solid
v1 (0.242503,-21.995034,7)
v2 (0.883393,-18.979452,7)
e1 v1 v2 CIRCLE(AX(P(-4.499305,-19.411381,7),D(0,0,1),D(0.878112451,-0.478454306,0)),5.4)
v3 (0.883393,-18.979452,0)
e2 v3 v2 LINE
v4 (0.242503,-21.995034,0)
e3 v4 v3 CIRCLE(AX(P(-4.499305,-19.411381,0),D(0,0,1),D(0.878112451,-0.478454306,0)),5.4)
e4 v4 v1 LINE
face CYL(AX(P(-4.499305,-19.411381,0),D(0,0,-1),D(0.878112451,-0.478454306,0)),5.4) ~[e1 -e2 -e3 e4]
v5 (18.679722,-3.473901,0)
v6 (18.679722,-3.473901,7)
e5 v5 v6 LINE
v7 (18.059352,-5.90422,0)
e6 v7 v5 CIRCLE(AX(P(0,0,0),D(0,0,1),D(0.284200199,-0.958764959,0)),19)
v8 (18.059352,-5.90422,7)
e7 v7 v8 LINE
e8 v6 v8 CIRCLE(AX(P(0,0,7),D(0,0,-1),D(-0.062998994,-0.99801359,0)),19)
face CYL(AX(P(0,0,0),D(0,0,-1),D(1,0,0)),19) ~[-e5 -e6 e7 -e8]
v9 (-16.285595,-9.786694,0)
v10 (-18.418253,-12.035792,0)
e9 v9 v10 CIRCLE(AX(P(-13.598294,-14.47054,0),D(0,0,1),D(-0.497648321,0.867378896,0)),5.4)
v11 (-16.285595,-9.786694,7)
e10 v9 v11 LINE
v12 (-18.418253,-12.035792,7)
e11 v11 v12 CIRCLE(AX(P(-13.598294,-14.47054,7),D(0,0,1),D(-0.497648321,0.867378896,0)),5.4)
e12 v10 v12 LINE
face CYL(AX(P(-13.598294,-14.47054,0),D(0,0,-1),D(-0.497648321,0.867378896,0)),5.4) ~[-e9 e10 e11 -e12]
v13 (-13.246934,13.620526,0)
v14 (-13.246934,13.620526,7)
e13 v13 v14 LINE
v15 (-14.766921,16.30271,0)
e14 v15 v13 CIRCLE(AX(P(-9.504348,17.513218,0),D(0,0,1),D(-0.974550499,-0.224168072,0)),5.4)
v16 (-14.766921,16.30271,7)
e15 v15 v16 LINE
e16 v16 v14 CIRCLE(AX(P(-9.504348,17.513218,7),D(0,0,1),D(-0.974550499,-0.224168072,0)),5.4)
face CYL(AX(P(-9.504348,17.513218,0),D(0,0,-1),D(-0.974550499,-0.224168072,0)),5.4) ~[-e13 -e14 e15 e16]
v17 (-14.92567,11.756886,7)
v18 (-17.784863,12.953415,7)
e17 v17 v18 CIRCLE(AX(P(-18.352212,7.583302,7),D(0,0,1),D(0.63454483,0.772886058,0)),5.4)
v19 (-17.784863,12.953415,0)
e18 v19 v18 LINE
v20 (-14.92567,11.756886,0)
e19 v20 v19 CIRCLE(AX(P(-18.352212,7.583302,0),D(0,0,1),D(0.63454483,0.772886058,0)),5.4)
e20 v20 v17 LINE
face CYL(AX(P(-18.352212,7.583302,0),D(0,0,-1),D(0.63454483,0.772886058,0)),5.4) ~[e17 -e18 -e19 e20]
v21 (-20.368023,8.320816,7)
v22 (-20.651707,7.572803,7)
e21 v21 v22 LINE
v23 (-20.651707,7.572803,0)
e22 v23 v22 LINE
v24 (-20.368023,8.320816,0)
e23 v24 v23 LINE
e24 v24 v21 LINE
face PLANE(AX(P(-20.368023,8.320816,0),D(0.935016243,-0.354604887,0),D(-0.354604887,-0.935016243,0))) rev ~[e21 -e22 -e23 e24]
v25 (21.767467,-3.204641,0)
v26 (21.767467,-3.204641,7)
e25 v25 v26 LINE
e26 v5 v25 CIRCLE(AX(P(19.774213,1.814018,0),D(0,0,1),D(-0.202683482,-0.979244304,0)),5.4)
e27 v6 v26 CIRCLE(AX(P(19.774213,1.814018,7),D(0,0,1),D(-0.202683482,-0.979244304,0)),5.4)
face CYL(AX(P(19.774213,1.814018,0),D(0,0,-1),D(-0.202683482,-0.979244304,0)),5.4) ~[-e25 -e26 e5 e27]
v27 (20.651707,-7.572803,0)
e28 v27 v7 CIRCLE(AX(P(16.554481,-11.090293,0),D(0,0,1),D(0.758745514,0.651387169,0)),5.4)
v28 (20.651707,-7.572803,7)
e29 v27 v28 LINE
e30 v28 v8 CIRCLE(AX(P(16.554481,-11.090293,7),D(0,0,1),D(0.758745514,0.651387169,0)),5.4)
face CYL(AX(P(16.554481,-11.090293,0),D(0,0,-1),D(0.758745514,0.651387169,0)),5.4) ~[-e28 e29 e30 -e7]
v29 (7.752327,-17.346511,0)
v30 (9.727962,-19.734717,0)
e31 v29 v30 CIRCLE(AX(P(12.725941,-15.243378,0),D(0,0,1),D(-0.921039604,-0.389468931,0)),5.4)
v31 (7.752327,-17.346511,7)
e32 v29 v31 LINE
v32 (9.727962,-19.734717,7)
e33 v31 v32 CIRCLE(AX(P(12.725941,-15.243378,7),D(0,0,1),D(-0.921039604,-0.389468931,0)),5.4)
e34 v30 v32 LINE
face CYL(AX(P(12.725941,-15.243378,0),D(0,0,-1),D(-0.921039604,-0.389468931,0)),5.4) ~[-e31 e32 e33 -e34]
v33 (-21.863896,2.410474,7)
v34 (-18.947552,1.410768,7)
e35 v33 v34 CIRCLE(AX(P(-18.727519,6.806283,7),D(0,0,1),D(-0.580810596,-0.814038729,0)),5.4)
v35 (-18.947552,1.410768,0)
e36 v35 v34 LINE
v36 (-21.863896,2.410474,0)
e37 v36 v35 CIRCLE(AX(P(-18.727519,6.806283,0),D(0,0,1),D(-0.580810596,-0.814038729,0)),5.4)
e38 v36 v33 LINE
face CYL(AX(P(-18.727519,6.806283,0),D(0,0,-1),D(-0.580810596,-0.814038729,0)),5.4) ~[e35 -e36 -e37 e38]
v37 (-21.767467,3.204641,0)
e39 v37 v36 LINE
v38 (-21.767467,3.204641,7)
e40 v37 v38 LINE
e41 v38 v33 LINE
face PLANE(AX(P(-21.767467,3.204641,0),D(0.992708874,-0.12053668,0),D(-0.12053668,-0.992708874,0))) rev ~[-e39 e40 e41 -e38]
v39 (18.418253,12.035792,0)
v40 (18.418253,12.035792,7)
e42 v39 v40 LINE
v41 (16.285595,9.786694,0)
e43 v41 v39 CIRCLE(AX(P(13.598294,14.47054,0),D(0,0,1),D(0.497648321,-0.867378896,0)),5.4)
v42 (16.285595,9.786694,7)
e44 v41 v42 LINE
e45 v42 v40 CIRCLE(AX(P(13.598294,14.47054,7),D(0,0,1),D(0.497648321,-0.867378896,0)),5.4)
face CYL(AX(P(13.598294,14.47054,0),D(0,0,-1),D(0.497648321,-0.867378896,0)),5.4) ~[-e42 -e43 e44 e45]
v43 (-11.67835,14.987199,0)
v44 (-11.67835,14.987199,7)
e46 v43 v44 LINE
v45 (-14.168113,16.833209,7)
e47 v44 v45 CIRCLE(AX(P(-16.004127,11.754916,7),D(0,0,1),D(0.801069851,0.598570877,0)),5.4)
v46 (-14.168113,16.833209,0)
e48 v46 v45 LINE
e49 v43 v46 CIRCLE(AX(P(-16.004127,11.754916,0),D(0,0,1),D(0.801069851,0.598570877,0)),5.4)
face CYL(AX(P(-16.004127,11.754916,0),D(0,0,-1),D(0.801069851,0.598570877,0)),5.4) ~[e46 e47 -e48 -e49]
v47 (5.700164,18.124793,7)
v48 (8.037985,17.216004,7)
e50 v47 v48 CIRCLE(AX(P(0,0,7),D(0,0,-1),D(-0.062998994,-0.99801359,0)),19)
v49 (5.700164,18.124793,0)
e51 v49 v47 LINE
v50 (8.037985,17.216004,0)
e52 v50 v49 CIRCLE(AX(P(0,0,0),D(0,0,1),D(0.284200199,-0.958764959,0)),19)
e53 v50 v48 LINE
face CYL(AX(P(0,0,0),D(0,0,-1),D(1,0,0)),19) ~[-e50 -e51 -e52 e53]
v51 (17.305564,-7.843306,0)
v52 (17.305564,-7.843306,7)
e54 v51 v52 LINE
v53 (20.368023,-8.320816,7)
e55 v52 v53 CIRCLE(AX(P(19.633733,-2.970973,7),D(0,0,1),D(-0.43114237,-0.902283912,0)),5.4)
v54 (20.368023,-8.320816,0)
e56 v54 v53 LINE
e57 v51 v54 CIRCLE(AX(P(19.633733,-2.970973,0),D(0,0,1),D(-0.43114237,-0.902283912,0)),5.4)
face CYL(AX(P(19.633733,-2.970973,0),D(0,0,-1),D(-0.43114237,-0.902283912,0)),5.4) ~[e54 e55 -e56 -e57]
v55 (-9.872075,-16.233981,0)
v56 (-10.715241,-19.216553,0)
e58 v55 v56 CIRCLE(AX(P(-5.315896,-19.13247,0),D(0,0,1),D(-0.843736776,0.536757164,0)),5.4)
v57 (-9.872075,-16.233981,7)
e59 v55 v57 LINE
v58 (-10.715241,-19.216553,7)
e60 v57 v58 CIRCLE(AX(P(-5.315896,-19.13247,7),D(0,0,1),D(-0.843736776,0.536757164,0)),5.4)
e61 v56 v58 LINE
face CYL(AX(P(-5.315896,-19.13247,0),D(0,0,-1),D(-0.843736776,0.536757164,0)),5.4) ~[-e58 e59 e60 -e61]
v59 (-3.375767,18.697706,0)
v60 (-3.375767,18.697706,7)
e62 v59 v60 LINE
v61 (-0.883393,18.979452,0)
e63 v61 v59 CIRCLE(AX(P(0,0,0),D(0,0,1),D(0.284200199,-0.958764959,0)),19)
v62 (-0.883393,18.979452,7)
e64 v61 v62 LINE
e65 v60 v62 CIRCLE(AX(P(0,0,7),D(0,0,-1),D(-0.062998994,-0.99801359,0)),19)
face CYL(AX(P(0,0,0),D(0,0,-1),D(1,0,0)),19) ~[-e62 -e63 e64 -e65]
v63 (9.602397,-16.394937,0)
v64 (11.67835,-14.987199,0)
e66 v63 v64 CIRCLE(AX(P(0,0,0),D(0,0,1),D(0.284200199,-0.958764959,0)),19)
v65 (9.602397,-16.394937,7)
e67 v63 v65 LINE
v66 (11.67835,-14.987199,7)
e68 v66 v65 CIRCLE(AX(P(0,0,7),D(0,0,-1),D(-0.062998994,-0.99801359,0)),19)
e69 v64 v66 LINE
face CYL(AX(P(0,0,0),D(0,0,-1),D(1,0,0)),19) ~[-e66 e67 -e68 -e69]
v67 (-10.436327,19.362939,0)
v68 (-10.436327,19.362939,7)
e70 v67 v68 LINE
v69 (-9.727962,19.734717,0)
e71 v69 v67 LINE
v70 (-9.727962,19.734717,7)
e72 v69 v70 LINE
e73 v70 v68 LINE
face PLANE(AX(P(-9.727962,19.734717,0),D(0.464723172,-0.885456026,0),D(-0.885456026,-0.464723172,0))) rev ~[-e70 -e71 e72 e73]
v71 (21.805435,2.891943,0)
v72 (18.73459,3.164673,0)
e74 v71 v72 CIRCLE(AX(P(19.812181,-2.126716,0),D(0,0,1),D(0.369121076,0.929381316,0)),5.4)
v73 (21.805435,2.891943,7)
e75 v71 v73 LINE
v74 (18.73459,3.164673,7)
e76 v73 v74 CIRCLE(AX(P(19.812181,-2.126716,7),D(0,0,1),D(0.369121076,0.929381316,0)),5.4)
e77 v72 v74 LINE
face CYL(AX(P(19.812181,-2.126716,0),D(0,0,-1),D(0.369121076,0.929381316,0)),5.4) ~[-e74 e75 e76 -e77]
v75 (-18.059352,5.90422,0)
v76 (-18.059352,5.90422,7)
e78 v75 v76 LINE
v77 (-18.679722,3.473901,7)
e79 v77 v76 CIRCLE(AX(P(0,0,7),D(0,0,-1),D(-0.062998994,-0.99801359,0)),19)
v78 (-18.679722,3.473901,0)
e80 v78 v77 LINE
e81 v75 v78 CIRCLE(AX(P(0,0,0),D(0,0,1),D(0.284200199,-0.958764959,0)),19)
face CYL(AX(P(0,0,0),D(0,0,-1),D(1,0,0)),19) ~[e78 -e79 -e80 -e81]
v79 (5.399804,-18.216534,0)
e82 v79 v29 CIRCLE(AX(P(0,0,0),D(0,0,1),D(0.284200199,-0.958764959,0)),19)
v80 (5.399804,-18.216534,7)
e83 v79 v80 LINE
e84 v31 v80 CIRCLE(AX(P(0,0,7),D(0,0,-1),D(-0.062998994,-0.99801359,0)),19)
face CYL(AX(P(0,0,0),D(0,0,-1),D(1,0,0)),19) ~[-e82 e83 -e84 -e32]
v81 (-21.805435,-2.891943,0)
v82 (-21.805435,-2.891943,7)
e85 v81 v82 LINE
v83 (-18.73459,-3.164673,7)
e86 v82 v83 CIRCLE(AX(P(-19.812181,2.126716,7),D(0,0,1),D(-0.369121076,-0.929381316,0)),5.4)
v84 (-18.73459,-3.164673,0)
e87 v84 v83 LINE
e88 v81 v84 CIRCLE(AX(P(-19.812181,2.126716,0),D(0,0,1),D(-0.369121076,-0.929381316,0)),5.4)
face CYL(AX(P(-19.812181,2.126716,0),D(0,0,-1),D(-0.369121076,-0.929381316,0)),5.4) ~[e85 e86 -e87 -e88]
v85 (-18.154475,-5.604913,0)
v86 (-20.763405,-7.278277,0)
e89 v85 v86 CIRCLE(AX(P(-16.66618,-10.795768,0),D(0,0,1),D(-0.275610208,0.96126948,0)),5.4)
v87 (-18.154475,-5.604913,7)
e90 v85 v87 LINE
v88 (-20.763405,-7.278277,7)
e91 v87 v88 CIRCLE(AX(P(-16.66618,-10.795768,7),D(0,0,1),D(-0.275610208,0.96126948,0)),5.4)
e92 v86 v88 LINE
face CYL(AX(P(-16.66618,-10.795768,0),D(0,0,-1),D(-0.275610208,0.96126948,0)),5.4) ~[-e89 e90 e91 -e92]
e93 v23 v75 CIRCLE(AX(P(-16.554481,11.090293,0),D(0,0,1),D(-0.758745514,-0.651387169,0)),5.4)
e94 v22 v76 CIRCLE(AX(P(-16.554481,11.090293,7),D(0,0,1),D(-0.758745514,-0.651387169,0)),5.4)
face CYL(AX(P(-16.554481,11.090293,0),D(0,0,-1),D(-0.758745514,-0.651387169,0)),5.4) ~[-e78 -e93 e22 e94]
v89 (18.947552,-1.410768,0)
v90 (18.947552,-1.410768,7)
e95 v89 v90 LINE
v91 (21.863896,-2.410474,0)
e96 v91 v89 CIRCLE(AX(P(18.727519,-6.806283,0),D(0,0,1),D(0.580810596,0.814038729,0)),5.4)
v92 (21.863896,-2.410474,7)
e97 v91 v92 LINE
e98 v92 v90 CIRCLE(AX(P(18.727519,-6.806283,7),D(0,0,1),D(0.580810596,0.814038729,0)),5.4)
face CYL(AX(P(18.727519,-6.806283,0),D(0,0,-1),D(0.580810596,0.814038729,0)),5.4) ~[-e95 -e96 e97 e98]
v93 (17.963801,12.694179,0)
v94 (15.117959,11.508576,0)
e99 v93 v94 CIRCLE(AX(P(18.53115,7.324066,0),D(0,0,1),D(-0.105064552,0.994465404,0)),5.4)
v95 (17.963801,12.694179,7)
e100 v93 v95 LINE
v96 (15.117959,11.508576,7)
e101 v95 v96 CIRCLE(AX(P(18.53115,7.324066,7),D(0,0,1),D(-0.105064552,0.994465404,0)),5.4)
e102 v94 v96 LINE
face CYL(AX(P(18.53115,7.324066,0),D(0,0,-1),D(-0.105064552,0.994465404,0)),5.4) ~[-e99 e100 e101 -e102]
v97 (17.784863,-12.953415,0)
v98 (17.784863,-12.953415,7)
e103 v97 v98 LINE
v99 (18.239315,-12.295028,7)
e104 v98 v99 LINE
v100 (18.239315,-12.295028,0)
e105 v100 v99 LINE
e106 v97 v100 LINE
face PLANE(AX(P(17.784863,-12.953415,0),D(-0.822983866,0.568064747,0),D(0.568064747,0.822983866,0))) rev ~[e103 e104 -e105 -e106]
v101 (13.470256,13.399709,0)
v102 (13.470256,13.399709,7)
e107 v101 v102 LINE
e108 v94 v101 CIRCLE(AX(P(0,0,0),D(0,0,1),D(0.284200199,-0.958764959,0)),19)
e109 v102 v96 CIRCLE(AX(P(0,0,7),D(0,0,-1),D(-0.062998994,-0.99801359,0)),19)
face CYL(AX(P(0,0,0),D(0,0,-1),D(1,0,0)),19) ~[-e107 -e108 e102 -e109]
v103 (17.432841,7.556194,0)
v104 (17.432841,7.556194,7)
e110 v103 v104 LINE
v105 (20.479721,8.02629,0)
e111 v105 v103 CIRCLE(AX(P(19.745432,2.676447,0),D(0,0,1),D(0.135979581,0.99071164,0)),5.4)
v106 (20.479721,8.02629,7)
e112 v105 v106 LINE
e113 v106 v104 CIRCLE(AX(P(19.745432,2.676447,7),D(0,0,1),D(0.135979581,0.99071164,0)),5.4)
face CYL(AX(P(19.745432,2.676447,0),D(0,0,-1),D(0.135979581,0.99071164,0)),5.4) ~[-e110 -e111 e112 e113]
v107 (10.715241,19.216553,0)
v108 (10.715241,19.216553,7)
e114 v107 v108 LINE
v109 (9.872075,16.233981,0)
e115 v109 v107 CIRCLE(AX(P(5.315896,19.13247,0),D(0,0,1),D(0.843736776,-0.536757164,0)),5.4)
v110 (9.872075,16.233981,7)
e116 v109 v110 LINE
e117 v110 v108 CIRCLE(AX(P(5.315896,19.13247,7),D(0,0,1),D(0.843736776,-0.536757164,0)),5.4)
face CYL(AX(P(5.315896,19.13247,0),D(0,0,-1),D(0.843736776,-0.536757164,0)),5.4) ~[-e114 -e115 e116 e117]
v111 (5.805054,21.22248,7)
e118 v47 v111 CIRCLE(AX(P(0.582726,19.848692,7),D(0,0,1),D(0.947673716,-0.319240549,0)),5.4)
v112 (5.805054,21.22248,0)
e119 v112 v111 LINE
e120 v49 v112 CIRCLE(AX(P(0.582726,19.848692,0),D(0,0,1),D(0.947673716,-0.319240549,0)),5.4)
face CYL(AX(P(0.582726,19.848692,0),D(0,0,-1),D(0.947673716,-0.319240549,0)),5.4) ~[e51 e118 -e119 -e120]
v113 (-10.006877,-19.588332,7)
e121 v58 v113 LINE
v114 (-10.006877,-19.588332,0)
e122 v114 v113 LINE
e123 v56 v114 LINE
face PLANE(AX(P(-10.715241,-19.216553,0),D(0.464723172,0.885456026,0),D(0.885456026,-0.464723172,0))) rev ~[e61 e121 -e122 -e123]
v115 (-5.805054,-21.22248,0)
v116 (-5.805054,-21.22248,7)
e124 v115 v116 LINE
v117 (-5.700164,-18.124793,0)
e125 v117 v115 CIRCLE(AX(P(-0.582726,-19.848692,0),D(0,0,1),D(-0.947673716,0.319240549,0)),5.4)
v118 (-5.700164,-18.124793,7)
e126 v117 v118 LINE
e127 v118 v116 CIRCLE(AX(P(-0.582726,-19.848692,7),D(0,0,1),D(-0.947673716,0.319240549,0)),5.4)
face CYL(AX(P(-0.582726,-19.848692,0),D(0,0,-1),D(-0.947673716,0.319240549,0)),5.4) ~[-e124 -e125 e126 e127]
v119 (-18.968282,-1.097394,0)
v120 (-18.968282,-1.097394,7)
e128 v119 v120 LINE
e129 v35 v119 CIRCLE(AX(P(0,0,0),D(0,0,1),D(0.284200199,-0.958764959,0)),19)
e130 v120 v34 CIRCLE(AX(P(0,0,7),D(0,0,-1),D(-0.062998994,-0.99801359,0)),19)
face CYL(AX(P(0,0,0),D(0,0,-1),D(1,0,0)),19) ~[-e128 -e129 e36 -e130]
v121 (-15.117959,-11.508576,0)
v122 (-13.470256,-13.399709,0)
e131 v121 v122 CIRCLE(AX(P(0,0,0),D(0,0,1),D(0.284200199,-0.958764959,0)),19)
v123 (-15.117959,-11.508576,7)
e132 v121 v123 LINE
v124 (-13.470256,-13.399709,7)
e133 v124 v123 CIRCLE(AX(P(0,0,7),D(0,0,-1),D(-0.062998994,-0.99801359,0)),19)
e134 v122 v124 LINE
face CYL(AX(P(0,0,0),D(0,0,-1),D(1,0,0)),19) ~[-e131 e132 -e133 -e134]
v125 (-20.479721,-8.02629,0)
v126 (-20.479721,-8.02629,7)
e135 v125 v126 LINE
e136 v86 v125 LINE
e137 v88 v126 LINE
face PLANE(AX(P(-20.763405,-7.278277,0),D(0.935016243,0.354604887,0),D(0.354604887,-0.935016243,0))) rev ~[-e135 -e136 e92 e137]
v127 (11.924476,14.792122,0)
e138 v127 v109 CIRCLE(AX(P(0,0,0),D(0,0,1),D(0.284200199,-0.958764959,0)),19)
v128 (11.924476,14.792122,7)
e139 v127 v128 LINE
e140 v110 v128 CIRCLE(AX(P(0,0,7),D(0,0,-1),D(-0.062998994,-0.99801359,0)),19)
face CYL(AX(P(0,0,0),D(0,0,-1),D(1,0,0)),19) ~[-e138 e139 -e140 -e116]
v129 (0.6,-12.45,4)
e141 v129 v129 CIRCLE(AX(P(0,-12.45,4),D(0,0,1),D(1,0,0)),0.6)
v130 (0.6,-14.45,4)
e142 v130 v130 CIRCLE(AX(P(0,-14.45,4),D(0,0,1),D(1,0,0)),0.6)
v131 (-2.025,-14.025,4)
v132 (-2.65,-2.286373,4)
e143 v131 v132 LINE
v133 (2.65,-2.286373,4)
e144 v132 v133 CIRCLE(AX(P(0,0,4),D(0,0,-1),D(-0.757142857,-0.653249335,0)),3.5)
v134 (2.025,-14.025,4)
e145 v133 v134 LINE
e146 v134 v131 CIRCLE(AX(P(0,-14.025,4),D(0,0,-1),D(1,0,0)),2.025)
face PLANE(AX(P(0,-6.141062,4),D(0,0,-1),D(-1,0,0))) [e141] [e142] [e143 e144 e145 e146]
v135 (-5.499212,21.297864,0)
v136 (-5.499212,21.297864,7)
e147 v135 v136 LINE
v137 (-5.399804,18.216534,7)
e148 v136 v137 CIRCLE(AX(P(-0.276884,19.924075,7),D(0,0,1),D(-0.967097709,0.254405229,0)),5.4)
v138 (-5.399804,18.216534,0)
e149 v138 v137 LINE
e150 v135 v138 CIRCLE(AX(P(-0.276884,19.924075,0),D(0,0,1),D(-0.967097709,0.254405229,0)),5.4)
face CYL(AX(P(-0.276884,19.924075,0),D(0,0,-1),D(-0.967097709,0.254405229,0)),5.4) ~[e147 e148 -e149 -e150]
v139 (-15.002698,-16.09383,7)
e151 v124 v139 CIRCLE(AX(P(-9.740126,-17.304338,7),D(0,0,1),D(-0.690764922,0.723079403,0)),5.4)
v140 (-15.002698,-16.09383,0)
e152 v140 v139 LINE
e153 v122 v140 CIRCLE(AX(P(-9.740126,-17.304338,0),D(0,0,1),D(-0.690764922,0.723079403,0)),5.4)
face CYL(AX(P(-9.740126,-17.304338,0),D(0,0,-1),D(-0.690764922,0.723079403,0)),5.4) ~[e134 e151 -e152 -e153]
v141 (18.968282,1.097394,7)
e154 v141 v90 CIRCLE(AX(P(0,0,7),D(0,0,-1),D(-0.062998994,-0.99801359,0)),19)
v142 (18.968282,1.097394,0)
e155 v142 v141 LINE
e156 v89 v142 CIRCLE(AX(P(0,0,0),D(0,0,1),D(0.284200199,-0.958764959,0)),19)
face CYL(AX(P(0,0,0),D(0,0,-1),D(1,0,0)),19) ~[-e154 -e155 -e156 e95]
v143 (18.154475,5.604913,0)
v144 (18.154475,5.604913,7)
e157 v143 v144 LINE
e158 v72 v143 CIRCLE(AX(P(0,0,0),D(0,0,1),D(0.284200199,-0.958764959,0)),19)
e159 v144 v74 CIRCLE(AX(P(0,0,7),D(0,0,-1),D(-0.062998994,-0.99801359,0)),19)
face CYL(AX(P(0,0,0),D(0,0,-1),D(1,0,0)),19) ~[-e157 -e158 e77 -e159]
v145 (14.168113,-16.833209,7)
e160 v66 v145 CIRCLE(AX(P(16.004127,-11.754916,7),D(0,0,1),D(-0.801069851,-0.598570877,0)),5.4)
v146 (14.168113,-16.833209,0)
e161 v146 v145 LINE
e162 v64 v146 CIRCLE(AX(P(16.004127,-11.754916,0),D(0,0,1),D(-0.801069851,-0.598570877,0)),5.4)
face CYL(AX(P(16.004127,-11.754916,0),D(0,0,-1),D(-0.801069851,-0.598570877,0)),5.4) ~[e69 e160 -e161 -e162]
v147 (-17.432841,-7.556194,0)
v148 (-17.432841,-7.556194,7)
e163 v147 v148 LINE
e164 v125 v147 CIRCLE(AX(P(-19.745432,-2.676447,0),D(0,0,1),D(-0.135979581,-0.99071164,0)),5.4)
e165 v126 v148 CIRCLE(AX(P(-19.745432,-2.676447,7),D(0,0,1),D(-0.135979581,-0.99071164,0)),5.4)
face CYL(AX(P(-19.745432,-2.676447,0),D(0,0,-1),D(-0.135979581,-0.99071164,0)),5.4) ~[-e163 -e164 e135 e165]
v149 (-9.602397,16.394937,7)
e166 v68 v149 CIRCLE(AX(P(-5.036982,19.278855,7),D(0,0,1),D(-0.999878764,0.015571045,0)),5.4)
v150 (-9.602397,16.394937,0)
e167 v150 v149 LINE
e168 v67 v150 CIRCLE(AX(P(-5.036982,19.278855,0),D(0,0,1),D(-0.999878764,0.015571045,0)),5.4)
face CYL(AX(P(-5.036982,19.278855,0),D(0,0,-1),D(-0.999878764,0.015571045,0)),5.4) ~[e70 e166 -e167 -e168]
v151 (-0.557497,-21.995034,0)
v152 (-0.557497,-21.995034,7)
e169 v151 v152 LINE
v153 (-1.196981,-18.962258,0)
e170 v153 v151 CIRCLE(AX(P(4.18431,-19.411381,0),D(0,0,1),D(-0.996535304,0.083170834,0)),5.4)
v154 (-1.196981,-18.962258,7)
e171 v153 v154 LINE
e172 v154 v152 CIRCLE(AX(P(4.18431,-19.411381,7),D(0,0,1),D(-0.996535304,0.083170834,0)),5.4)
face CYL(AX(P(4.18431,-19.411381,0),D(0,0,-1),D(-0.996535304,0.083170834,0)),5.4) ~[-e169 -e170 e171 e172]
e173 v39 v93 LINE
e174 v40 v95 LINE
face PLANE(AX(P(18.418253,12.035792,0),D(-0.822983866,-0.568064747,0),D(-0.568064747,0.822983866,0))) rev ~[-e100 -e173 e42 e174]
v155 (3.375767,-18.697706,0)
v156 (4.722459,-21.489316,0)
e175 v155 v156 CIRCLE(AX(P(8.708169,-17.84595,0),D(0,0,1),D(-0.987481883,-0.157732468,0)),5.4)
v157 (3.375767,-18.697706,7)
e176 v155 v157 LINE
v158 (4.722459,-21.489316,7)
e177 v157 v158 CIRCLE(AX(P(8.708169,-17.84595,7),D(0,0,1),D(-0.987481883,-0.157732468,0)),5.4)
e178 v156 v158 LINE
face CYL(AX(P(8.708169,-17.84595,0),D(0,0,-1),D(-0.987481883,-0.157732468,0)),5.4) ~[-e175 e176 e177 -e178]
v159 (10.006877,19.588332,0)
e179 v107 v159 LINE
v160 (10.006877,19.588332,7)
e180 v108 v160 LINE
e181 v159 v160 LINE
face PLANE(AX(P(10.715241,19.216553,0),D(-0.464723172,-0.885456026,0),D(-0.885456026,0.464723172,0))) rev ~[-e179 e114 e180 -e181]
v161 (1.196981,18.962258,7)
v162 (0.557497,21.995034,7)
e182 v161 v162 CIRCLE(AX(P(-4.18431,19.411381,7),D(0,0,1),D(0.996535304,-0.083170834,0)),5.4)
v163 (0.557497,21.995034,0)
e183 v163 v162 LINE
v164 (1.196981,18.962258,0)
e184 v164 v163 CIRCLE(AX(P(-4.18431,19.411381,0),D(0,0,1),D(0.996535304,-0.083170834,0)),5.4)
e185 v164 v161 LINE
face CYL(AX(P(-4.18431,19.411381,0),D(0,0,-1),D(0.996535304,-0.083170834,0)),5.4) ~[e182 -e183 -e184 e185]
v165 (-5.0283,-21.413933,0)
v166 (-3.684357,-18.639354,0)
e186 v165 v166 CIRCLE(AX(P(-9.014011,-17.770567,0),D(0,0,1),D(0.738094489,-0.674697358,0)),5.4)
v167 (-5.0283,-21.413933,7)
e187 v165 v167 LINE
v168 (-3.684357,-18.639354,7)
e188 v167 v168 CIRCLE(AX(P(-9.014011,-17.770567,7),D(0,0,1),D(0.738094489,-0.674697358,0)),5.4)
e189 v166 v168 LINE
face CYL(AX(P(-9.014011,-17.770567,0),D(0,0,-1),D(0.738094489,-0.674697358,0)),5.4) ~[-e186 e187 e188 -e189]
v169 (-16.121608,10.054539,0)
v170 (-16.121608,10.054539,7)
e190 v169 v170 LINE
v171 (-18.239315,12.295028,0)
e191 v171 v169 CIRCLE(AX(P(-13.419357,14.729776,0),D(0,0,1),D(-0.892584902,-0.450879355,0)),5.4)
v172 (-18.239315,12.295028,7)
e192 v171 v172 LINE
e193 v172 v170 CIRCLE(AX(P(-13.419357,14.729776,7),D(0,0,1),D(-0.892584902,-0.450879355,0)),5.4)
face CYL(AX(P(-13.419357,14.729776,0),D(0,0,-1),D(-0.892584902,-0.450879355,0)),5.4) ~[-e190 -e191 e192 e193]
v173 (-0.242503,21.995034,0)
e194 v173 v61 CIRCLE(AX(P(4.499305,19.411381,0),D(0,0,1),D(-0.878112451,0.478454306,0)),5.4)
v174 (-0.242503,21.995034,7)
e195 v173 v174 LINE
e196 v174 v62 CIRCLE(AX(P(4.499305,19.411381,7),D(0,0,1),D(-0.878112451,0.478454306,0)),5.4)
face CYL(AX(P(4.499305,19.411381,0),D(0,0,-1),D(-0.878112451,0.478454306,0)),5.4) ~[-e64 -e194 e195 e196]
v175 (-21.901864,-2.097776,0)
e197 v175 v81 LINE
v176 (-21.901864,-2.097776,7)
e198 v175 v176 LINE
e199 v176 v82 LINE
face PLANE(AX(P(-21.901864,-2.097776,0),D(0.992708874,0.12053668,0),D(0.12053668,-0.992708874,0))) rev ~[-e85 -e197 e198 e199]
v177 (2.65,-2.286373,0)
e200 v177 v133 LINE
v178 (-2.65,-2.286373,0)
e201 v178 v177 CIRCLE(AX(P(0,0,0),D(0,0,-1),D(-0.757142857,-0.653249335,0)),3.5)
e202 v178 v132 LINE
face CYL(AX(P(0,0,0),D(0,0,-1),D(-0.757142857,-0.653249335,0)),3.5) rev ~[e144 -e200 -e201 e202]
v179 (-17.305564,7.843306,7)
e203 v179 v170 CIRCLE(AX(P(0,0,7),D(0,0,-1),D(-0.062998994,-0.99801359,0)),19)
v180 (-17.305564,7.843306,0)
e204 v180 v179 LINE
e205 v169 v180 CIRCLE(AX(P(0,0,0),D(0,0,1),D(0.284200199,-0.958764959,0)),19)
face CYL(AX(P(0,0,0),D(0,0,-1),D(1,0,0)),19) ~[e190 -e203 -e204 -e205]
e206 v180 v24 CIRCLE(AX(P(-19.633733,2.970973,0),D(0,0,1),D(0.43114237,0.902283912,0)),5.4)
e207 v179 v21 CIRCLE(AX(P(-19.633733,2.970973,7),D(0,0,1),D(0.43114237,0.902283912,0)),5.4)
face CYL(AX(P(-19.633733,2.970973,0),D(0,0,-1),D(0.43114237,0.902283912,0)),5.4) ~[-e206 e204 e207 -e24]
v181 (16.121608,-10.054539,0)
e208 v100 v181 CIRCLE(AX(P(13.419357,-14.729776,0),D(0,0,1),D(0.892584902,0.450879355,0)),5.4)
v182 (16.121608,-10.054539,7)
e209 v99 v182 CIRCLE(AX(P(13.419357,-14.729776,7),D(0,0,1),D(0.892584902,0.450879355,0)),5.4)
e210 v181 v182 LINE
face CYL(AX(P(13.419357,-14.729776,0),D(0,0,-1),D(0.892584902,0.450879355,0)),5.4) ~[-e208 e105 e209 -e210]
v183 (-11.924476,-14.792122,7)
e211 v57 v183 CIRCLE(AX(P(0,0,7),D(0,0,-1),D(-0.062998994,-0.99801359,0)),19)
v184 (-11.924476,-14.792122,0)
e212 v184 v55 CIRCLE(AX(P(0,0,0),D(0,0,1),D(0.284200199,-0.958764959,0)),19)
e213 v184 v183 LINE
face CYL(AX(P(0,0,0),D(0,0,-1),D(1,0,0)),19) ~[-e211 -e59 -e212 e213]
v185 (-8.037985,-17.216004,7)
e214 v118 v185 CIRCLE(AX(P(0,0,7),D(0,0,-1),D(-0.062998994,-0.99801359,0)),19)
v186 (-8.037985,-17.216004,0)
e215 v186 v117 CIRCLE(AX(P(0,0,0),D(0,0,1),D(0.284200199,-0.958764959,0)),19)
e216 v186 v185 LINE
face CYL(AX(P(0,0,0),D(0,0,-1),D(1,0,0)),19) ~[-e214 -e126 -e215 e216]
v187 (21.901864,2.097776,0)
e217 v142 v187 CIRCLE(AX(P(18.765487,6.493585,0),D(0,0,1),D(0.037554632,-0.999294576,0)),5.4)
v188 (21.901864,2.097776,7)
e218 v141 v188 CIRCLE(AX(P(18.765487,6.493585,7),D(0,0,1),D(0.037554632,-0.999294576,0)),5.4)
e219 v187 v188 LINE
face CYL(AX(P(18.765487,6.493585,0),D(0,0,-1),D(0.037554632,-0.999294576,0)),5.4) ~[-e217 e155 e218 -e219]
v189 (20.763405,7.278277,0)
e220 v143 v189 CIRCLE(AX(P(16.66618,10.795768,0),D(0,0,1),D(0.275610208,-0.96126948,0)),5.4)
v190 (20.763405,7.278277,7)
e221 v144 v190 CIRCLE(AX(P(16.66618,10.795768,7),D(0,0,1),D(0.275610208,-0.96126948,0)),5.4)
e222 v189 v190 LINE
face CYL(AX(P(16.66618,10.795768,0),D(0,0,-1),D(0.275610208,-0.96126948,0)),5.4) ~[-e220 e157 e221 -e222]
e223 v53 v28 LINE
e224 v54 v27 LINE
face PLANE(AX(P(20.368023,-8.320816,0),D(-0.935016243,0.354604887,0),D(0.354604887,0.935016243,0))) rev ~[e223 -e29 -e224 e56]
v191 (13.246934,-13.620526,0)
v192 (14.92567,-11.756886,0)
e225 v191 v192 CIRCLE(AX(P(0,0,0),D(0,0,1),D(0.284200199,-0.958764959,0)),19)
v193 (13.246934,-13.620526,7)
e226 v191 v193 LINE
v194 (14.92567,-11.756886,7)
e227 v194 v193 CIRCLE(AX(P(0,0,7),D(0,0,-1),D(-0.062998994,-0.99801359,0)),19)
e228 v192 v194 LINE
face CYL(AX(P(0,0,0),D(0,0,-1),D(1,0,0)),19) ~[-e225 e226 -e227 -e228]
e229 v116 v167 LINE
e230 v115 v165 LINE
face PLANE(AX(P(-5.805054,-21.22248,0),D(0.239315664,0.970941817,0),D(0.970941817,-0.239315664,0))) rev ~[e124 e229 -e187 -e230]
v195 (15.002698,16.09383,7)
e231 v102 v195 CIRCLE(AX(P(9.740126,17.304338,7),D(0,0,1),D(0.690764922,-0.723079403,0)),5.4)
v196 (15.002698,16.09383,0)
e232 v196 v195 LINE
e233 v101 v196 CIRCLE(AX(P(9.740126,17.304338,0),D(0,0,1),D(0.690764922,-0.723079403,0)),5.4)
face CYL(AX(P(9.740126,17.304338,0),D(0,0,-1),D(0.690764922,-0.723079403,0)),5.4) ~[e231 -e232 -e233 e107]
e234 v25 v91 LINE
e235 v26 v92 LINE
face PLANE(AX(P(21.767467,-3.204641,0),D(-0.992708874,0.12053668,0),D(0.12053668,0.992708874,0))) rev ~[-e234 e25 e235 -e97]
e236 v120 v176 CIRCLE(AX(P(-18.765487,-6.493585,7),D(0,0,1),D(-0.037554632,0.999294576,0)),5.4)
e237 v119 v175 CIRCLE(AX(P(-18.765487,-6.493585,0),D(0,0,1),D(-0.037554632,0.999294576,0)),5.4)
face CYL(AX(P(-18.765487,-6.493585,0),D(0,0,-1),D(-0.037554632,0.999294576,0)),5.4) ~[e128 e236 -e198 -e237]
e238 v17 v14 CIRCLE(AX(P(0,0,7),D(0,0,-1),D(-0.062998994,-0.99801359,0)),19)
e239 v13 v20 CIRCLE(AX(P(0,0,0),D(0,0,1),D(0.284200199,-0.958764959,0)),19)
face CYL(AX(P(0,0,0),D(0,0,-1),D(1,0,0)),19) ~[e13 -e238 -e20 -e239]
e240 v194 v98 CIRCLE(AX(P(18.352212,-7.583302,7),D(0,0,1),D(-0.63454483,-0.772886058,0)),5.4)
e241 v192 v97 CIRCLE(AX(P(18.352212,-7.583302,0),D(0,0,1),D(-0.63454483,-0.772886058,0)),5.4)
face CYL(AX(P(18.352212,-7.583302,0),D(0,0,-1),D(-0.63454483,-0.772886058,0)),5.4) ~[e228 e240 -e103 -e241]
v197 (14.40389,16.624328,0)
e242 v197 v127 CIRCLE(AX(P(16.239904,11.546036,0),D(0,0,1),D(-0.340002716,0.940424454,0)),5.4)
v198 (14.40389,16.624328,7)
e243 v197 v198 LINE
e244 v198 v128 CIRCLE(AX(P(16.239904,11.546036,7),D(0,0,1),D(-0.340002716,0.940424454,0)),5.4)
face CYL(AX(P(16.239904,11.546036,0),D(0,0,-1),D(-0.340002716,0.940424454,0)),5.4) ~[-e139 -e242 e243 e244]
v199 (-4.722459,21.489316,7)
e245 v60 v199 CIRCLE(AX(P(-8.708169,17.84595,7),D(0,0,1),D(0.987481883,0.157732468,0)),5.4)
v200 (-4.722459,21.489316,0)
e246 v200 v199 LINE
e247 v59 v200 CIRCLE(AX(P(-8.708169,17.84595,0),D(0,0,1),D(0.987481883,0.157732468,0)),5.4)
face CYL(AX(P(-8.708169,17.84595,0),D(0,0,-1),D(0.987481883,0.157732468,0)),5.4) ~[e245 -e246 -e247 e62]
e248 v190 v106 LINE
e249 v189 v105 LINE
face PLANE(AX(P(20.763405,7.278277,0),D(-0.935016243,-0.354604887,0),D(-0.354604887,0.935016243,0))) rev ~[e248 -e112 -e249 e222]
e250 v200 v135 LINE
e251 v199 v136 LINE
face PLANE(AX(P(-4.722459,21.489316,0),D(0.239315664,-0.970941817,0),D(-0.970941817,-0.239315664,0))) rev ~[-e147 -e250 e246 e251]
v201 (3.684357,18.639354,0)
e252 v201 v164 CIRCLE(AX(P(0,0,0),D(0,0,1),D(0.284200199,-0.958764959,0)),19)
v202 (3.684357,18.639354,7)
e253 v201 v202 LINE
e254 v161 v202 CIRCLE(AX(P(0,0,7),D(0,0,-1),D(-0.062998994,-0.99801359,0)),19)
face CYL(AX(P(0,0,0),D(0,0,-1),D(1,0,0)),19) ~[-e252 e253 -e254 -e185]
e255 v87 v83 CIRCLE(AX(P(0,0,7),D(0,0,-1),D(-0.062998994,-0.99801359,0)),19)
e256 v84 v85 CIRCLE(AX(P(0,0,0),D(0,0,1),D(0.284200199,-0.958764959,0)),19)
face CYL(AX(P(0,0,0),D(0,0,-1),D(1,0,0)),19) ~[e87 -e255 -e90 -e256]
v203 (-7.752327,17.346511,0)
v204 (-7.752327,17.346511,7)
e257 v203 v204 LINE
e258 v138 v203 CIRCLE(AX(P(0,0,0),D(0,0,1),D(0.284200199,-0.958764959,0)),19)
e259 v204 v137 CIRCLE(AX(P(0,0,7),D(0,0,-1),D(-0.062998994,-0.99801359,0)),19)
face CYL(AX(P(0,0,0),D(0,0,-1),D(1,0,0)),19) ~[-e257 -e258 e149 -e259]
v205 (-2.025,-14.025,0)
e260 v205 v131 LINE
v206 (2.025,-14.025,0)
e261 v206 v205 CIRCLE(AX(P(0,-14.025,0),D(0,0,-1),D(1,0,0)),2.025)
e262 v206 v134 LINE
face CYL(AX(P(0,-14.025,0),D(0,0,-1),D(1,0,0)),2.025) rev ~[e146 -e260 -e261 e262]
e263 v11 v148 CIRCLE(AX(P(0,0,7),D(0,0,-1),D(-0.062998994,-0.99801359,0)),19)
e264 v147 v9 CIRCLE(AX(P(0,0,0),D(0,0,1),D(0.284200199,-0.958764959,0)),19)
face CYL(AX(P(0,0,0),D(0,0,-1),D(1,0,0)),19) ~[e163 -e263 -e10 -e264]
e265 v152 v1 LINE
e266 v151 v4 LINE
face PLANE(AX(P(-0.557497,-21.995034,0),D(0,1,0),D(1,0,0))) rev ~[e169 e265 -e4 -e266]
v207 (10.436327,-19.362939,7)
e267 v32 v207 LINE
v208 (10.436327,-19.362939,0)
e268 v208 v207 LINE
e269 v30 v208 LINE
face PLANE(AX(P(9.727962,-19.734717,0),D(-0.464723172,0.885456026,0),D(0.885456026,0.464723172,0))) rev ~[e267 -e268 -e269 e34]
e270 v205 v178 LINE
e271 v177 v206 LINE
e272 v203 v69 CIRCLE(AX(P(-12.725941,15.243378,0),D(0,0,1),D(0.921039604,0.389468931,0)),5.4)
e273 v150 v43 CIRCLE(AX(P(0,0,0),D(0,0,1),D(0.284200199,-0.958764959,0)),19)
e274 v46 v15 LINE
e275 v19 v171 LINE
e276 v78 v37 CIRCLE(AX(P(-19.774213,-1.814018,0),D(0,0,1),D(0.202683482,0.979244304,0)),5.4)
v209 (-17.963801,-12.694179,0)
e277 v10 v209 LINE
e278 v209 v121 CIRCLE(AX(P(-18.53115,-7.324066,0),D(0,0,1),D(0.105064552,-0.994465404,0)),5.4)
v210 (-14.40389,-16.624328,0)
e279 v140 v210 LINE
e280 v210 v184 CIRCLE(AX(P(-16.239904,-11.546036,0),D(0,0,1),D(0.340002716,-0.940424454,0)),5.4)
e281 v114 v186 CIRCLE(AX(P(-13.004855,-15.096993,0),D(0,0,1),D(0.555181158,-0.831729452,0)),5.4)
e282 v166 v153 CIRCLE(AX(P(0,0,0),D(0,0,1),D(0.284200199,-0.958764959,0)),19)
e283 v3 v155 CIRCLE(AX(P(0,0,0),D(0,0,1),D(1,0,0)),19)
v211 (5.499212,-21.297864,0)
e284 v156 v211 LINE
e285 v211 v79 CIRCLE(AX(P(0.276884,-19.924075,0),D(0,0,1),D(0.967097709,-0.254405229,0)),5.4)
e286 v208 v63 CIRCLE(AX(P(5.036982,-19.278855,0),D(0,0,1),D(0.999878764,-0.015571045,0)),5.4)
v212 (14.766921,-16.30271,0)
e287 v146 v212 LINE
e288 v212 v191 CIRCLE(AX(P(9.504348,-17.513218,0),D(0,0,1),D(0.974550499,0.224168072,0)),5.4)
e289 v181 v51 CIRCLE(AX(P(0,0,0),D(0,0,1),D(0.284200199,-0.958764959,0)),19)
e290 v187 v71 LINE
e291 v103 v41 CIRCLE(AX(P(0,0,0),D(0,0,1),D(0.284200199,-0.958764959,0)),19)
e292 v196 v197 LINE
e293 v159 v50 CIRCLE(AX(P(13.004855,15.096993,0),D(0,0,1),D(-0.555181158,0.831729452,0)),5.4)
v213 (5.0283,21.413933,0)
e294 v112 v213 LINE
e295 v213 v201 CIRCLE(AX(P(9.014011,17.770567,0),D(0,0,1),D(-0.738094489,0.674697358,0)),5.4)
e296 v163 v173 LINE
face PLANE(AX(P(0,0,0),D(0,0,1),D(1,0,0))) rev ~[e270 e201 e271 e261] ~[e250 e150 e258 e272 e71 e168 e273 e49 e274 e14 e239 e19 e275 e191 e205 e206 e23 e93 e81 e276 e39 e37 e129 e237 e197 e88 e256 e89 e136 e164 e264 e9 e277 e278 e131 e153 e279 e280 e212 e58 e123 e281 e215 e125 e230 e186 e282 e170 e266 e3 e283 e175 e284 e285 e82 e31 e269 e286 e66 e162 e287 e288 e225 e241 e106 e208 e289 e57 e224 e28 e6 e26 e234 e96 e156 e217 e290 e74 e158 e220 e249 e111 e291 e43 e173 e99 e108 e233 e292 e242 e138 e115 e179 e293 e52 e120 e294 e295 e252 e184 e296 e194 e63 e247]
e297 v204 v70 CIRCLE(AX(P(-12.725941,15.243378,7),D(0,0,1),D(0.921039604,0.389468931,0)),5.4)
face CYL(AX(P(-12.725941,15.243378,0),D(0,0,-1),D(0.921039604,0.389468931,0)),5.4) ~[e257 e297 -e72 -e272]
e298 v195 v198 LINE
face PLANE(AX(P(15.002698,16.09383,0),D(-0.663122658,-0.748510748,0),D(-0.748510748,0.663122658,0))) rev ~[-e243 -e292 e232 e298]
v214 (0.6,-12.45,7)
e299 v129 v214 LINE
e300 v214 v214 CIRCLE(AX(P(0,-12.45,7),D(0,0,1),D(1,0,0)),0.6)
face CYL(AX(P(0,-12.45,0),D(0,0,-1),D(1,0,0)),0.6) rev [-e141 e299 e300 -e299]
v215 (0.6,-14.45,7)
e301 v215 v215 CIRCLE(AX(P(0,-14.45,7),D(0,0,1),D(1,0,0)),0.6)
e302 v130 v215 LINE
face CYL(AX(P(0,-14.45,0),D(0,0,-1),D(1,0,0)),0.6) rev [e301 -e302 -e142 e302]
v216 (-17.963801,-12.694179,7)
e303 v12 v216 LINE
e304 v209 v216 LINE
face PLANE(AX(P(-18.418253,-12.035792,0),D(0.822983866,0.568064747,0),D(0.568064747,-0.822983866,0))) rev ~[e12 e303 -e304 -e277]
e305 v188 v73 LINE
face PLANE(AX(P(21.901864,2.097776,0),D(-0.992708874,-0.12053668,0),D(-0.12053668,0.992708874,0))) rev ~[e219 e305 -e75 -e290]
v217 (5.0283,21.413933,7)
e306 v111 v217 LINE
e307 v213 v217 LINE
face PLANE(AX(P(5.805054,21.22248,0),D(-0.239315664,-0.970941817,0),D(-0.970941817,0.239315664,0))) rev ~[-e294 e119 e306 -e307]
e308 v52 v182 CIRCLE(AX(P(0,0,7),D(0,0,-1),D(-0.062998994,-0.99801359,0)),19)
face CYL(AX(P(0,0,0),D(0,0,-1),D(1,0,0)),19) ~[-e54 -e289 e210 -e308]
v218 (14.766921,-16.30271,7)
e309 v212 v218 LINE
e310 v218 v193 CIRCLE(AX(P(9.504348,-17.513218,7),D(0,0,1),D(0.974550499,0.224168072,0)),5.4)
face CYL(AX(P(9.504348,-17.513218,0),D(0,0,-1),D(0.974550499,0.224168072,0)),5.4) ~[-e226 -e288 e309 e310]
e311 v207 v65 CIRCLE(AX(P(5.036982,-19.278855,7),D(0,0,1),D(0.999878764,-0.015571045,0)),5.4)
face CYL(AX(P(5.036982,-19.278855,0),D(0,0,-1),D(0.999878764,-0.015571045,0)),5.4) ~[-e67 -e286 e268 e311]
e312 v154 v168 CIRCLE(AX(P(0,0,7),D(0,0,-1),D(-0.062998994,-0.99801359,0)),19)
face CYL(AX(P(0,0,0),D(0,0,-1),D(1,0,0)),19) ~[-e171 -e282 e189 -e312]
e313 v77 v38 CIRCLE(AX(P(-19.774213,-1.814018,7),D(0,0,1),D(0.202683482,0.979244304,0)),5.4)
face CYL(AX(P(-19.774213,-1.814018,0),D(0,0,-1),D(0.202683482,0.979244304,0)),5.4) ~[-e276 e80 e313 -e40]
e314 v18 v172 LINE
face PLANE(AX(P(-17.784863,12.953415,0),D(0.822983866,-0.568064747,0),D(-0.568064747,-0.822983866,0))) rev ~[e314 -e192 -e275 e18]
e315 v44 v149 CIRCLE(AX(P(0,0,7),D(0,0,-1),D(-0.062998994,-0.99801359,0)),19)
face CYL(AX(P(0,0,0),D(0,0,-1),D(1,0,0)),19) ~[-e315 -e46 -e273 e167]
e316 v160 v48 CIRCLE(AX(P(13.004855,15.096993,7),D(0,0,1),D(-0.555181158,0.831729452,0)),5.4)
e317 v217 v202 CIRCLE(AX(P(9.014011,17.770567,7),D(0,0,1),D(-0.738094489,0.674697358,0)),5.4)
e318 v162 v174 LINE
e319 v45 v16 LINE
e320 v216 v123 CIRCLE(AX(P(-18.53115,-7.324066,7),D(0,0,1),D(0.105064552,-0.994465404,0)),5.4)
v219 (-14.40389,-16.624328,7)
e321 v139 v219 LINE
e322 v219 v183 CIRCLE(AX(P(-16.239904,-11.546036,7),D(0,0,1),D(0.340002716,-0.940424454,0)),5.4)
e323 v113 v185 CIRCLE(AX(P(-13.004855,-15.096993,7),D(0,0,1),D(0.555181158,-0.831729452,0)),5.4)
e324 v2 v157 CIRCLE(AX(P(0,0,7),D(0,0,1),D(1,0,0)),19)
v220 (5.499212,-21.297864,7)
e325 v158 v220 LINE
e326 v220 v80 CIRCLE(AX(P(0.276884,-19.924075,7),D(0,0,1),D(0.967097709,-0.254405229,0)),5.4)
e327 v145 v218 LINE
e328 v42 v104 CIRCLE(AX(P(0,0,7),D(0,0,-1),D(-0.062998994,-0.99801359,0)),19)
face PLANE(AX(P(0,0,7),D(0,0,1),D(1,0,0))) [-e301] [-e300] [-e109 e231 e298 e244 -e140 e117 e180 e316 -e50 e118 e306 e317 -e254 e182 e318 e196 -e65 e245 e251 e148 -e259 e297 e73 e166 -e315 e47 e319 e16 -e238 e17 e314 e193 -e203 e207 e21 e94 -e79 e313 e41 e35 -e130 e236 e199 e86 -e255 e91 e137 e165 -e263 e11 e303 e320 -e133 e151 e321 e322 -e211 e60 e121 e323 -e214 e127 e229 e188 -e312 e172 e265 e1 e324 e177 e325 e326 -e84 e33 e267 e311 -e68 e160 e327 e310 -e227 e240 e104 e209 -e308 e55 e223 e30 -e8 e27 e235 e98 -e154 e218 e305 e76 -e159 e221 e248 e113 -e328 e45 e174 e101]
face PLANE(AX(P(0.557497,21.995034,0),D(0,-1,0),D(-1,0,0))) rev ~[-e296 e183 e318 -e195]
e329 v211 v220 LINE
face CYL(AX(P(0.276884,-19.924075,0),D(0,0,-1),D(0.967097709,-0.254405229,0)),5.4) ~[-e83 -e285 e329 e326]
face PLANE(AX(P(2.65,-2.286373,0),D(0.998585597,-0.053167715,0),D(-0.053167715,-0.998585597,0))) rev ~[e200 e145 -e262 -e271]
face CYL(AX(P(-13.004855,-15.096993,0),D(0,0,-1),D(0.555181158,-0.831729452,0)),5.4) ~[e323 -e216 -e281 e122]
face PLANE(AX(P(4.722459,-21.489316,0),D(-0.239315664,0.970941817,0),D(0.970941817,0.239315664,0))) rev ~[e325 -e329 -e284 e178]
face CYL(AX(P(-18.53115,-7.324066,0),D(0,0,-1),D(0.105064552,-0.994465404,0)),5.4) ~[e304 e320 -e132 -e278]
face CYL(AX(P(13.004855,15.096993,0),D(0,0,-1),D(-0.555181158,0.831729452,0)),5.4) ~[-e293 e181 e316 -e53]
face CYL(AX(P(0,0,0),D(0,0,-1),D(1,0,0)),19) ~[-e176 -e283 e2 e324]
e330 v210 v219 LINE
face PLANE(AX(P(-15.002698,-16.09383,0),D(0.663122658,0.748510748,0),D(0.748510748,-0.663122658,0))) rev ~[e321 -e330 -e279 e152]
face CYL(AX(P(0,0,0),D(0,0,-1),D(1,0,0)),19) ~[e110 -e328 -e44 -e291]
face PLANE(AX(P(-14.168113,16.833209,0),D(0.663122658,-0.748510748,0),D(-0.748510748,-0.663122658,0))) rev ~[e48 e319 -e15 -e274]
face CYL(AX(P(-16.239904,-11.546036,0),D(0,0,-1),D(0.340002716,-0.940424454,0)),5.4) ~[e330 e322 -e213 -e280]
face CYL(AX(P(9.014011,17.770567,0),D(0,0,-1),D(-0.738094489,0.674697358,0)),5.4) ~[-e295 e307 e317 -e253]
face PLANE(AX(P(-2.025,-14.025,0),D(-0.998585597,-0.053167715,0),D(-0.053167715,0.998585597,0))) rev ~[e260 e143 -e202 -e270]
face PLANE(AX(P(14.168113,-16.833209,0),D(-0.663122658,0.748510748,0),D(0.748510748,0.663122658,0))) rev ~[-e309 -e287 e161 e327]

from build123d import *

# Parameters (mm, degrees)
SKETCH1_R           = 19
BOSS_EXTRUDE2_DEPTH = 7
BOSS_EXTRUDE3_DEPTH = 7
CIRPATTERN1_COUNT   = 26
SKETCH1_7_R         = 0.6
CUT_EXTRUDE1_DEPTH  = 4
SKETCH1_8_R         = 0.6
CUT_EXTRUDE2_DEPTH  = 7


with BuildPart() as part:
    # Sketch1 → Boss-Extrude2 (new body)
    with BuildSketch(Plane.XY):
        Circle(SKETCH1_R)
    extrude(amount=BOSS_EXTRUDE2_DEPTH)

    # Sketch1<6> → Boss-Extrude3 (add)
    with BuildSketch(Plane.XY):
        with BuildLine():
            Line((-0.557497486, -21.995033976), (0.242502514, -21.995033976))
            ThreePointArc((0.242502514, -21.995033976), (0.782724682, -20.5339516), (0.883393299, -18.979452476))
            ThreePointArc((0.883393299, -18.979452476), (-0.157029313, -18.999351089), (-1.196980891, -18.962258219))
            ThreePointArc((-1.196980891, -18.962258219), (-1.099506092, -20.525512733), (-0.557497486, -21.995033976))
        make_face()
    boss_extrude3 = extrude(amount=BOSS_EXTRUDE3_DEPTH)

    # CirPattern1: Boss-Extrude3 ×26 about axis
    cirpattern1_axis = Axis((0, 0, 0), (0, 0, 1))
    for i in range(1, CIRPATTERN1_COUNT):
        add(boss_extrude3.rotate(cirpattern1_axis, i * 360 / CIRPATTERN1_COUNT))

    # Sketch1<7> → Cut-Extrude1 (cut)
    with BuildSketch(Plane.XY):
        with BuildLine():
            Line((-2.025, -14.025), (-2.65, -2.286372673))
            ThreePointArc((-2.65, -2.286372673), (0, 3.5), (2.65, -2.286372673))
            Line((2.65, -2.286372673), (2.025, -14.025))
            ThreePointArc((2.025, -14.025), (0, -16.05), (-2.025, -14.025))
        make_face()
        with Locations((0, -14.45)):
            Circle(SKETCH1_7_R, mode=Mode.SUBTRACT)
        with Locations((0, -12.45)):
            Circle(SKETCH1_7_R, mode=Mode.SUBTRACT)
    extrude(amount=CUT_EXTRUDE1_DEPTH, mode=Mode.SUBTRACT)

    # Sketch1<8> → Cut-Extrude2 (cut)
    with BuildSketch(Plane.XY):
        with Locations((0, -14.45)):
            Circle(SKETCH1_8_R)
        with Locations((0, -12.45)):
            Circle(SKETCH1_8_R)
    extrude(amount=CUT_EXTRUDE2_DEPTH, mode=Mode.SUBTRACT)


solid = part.part
